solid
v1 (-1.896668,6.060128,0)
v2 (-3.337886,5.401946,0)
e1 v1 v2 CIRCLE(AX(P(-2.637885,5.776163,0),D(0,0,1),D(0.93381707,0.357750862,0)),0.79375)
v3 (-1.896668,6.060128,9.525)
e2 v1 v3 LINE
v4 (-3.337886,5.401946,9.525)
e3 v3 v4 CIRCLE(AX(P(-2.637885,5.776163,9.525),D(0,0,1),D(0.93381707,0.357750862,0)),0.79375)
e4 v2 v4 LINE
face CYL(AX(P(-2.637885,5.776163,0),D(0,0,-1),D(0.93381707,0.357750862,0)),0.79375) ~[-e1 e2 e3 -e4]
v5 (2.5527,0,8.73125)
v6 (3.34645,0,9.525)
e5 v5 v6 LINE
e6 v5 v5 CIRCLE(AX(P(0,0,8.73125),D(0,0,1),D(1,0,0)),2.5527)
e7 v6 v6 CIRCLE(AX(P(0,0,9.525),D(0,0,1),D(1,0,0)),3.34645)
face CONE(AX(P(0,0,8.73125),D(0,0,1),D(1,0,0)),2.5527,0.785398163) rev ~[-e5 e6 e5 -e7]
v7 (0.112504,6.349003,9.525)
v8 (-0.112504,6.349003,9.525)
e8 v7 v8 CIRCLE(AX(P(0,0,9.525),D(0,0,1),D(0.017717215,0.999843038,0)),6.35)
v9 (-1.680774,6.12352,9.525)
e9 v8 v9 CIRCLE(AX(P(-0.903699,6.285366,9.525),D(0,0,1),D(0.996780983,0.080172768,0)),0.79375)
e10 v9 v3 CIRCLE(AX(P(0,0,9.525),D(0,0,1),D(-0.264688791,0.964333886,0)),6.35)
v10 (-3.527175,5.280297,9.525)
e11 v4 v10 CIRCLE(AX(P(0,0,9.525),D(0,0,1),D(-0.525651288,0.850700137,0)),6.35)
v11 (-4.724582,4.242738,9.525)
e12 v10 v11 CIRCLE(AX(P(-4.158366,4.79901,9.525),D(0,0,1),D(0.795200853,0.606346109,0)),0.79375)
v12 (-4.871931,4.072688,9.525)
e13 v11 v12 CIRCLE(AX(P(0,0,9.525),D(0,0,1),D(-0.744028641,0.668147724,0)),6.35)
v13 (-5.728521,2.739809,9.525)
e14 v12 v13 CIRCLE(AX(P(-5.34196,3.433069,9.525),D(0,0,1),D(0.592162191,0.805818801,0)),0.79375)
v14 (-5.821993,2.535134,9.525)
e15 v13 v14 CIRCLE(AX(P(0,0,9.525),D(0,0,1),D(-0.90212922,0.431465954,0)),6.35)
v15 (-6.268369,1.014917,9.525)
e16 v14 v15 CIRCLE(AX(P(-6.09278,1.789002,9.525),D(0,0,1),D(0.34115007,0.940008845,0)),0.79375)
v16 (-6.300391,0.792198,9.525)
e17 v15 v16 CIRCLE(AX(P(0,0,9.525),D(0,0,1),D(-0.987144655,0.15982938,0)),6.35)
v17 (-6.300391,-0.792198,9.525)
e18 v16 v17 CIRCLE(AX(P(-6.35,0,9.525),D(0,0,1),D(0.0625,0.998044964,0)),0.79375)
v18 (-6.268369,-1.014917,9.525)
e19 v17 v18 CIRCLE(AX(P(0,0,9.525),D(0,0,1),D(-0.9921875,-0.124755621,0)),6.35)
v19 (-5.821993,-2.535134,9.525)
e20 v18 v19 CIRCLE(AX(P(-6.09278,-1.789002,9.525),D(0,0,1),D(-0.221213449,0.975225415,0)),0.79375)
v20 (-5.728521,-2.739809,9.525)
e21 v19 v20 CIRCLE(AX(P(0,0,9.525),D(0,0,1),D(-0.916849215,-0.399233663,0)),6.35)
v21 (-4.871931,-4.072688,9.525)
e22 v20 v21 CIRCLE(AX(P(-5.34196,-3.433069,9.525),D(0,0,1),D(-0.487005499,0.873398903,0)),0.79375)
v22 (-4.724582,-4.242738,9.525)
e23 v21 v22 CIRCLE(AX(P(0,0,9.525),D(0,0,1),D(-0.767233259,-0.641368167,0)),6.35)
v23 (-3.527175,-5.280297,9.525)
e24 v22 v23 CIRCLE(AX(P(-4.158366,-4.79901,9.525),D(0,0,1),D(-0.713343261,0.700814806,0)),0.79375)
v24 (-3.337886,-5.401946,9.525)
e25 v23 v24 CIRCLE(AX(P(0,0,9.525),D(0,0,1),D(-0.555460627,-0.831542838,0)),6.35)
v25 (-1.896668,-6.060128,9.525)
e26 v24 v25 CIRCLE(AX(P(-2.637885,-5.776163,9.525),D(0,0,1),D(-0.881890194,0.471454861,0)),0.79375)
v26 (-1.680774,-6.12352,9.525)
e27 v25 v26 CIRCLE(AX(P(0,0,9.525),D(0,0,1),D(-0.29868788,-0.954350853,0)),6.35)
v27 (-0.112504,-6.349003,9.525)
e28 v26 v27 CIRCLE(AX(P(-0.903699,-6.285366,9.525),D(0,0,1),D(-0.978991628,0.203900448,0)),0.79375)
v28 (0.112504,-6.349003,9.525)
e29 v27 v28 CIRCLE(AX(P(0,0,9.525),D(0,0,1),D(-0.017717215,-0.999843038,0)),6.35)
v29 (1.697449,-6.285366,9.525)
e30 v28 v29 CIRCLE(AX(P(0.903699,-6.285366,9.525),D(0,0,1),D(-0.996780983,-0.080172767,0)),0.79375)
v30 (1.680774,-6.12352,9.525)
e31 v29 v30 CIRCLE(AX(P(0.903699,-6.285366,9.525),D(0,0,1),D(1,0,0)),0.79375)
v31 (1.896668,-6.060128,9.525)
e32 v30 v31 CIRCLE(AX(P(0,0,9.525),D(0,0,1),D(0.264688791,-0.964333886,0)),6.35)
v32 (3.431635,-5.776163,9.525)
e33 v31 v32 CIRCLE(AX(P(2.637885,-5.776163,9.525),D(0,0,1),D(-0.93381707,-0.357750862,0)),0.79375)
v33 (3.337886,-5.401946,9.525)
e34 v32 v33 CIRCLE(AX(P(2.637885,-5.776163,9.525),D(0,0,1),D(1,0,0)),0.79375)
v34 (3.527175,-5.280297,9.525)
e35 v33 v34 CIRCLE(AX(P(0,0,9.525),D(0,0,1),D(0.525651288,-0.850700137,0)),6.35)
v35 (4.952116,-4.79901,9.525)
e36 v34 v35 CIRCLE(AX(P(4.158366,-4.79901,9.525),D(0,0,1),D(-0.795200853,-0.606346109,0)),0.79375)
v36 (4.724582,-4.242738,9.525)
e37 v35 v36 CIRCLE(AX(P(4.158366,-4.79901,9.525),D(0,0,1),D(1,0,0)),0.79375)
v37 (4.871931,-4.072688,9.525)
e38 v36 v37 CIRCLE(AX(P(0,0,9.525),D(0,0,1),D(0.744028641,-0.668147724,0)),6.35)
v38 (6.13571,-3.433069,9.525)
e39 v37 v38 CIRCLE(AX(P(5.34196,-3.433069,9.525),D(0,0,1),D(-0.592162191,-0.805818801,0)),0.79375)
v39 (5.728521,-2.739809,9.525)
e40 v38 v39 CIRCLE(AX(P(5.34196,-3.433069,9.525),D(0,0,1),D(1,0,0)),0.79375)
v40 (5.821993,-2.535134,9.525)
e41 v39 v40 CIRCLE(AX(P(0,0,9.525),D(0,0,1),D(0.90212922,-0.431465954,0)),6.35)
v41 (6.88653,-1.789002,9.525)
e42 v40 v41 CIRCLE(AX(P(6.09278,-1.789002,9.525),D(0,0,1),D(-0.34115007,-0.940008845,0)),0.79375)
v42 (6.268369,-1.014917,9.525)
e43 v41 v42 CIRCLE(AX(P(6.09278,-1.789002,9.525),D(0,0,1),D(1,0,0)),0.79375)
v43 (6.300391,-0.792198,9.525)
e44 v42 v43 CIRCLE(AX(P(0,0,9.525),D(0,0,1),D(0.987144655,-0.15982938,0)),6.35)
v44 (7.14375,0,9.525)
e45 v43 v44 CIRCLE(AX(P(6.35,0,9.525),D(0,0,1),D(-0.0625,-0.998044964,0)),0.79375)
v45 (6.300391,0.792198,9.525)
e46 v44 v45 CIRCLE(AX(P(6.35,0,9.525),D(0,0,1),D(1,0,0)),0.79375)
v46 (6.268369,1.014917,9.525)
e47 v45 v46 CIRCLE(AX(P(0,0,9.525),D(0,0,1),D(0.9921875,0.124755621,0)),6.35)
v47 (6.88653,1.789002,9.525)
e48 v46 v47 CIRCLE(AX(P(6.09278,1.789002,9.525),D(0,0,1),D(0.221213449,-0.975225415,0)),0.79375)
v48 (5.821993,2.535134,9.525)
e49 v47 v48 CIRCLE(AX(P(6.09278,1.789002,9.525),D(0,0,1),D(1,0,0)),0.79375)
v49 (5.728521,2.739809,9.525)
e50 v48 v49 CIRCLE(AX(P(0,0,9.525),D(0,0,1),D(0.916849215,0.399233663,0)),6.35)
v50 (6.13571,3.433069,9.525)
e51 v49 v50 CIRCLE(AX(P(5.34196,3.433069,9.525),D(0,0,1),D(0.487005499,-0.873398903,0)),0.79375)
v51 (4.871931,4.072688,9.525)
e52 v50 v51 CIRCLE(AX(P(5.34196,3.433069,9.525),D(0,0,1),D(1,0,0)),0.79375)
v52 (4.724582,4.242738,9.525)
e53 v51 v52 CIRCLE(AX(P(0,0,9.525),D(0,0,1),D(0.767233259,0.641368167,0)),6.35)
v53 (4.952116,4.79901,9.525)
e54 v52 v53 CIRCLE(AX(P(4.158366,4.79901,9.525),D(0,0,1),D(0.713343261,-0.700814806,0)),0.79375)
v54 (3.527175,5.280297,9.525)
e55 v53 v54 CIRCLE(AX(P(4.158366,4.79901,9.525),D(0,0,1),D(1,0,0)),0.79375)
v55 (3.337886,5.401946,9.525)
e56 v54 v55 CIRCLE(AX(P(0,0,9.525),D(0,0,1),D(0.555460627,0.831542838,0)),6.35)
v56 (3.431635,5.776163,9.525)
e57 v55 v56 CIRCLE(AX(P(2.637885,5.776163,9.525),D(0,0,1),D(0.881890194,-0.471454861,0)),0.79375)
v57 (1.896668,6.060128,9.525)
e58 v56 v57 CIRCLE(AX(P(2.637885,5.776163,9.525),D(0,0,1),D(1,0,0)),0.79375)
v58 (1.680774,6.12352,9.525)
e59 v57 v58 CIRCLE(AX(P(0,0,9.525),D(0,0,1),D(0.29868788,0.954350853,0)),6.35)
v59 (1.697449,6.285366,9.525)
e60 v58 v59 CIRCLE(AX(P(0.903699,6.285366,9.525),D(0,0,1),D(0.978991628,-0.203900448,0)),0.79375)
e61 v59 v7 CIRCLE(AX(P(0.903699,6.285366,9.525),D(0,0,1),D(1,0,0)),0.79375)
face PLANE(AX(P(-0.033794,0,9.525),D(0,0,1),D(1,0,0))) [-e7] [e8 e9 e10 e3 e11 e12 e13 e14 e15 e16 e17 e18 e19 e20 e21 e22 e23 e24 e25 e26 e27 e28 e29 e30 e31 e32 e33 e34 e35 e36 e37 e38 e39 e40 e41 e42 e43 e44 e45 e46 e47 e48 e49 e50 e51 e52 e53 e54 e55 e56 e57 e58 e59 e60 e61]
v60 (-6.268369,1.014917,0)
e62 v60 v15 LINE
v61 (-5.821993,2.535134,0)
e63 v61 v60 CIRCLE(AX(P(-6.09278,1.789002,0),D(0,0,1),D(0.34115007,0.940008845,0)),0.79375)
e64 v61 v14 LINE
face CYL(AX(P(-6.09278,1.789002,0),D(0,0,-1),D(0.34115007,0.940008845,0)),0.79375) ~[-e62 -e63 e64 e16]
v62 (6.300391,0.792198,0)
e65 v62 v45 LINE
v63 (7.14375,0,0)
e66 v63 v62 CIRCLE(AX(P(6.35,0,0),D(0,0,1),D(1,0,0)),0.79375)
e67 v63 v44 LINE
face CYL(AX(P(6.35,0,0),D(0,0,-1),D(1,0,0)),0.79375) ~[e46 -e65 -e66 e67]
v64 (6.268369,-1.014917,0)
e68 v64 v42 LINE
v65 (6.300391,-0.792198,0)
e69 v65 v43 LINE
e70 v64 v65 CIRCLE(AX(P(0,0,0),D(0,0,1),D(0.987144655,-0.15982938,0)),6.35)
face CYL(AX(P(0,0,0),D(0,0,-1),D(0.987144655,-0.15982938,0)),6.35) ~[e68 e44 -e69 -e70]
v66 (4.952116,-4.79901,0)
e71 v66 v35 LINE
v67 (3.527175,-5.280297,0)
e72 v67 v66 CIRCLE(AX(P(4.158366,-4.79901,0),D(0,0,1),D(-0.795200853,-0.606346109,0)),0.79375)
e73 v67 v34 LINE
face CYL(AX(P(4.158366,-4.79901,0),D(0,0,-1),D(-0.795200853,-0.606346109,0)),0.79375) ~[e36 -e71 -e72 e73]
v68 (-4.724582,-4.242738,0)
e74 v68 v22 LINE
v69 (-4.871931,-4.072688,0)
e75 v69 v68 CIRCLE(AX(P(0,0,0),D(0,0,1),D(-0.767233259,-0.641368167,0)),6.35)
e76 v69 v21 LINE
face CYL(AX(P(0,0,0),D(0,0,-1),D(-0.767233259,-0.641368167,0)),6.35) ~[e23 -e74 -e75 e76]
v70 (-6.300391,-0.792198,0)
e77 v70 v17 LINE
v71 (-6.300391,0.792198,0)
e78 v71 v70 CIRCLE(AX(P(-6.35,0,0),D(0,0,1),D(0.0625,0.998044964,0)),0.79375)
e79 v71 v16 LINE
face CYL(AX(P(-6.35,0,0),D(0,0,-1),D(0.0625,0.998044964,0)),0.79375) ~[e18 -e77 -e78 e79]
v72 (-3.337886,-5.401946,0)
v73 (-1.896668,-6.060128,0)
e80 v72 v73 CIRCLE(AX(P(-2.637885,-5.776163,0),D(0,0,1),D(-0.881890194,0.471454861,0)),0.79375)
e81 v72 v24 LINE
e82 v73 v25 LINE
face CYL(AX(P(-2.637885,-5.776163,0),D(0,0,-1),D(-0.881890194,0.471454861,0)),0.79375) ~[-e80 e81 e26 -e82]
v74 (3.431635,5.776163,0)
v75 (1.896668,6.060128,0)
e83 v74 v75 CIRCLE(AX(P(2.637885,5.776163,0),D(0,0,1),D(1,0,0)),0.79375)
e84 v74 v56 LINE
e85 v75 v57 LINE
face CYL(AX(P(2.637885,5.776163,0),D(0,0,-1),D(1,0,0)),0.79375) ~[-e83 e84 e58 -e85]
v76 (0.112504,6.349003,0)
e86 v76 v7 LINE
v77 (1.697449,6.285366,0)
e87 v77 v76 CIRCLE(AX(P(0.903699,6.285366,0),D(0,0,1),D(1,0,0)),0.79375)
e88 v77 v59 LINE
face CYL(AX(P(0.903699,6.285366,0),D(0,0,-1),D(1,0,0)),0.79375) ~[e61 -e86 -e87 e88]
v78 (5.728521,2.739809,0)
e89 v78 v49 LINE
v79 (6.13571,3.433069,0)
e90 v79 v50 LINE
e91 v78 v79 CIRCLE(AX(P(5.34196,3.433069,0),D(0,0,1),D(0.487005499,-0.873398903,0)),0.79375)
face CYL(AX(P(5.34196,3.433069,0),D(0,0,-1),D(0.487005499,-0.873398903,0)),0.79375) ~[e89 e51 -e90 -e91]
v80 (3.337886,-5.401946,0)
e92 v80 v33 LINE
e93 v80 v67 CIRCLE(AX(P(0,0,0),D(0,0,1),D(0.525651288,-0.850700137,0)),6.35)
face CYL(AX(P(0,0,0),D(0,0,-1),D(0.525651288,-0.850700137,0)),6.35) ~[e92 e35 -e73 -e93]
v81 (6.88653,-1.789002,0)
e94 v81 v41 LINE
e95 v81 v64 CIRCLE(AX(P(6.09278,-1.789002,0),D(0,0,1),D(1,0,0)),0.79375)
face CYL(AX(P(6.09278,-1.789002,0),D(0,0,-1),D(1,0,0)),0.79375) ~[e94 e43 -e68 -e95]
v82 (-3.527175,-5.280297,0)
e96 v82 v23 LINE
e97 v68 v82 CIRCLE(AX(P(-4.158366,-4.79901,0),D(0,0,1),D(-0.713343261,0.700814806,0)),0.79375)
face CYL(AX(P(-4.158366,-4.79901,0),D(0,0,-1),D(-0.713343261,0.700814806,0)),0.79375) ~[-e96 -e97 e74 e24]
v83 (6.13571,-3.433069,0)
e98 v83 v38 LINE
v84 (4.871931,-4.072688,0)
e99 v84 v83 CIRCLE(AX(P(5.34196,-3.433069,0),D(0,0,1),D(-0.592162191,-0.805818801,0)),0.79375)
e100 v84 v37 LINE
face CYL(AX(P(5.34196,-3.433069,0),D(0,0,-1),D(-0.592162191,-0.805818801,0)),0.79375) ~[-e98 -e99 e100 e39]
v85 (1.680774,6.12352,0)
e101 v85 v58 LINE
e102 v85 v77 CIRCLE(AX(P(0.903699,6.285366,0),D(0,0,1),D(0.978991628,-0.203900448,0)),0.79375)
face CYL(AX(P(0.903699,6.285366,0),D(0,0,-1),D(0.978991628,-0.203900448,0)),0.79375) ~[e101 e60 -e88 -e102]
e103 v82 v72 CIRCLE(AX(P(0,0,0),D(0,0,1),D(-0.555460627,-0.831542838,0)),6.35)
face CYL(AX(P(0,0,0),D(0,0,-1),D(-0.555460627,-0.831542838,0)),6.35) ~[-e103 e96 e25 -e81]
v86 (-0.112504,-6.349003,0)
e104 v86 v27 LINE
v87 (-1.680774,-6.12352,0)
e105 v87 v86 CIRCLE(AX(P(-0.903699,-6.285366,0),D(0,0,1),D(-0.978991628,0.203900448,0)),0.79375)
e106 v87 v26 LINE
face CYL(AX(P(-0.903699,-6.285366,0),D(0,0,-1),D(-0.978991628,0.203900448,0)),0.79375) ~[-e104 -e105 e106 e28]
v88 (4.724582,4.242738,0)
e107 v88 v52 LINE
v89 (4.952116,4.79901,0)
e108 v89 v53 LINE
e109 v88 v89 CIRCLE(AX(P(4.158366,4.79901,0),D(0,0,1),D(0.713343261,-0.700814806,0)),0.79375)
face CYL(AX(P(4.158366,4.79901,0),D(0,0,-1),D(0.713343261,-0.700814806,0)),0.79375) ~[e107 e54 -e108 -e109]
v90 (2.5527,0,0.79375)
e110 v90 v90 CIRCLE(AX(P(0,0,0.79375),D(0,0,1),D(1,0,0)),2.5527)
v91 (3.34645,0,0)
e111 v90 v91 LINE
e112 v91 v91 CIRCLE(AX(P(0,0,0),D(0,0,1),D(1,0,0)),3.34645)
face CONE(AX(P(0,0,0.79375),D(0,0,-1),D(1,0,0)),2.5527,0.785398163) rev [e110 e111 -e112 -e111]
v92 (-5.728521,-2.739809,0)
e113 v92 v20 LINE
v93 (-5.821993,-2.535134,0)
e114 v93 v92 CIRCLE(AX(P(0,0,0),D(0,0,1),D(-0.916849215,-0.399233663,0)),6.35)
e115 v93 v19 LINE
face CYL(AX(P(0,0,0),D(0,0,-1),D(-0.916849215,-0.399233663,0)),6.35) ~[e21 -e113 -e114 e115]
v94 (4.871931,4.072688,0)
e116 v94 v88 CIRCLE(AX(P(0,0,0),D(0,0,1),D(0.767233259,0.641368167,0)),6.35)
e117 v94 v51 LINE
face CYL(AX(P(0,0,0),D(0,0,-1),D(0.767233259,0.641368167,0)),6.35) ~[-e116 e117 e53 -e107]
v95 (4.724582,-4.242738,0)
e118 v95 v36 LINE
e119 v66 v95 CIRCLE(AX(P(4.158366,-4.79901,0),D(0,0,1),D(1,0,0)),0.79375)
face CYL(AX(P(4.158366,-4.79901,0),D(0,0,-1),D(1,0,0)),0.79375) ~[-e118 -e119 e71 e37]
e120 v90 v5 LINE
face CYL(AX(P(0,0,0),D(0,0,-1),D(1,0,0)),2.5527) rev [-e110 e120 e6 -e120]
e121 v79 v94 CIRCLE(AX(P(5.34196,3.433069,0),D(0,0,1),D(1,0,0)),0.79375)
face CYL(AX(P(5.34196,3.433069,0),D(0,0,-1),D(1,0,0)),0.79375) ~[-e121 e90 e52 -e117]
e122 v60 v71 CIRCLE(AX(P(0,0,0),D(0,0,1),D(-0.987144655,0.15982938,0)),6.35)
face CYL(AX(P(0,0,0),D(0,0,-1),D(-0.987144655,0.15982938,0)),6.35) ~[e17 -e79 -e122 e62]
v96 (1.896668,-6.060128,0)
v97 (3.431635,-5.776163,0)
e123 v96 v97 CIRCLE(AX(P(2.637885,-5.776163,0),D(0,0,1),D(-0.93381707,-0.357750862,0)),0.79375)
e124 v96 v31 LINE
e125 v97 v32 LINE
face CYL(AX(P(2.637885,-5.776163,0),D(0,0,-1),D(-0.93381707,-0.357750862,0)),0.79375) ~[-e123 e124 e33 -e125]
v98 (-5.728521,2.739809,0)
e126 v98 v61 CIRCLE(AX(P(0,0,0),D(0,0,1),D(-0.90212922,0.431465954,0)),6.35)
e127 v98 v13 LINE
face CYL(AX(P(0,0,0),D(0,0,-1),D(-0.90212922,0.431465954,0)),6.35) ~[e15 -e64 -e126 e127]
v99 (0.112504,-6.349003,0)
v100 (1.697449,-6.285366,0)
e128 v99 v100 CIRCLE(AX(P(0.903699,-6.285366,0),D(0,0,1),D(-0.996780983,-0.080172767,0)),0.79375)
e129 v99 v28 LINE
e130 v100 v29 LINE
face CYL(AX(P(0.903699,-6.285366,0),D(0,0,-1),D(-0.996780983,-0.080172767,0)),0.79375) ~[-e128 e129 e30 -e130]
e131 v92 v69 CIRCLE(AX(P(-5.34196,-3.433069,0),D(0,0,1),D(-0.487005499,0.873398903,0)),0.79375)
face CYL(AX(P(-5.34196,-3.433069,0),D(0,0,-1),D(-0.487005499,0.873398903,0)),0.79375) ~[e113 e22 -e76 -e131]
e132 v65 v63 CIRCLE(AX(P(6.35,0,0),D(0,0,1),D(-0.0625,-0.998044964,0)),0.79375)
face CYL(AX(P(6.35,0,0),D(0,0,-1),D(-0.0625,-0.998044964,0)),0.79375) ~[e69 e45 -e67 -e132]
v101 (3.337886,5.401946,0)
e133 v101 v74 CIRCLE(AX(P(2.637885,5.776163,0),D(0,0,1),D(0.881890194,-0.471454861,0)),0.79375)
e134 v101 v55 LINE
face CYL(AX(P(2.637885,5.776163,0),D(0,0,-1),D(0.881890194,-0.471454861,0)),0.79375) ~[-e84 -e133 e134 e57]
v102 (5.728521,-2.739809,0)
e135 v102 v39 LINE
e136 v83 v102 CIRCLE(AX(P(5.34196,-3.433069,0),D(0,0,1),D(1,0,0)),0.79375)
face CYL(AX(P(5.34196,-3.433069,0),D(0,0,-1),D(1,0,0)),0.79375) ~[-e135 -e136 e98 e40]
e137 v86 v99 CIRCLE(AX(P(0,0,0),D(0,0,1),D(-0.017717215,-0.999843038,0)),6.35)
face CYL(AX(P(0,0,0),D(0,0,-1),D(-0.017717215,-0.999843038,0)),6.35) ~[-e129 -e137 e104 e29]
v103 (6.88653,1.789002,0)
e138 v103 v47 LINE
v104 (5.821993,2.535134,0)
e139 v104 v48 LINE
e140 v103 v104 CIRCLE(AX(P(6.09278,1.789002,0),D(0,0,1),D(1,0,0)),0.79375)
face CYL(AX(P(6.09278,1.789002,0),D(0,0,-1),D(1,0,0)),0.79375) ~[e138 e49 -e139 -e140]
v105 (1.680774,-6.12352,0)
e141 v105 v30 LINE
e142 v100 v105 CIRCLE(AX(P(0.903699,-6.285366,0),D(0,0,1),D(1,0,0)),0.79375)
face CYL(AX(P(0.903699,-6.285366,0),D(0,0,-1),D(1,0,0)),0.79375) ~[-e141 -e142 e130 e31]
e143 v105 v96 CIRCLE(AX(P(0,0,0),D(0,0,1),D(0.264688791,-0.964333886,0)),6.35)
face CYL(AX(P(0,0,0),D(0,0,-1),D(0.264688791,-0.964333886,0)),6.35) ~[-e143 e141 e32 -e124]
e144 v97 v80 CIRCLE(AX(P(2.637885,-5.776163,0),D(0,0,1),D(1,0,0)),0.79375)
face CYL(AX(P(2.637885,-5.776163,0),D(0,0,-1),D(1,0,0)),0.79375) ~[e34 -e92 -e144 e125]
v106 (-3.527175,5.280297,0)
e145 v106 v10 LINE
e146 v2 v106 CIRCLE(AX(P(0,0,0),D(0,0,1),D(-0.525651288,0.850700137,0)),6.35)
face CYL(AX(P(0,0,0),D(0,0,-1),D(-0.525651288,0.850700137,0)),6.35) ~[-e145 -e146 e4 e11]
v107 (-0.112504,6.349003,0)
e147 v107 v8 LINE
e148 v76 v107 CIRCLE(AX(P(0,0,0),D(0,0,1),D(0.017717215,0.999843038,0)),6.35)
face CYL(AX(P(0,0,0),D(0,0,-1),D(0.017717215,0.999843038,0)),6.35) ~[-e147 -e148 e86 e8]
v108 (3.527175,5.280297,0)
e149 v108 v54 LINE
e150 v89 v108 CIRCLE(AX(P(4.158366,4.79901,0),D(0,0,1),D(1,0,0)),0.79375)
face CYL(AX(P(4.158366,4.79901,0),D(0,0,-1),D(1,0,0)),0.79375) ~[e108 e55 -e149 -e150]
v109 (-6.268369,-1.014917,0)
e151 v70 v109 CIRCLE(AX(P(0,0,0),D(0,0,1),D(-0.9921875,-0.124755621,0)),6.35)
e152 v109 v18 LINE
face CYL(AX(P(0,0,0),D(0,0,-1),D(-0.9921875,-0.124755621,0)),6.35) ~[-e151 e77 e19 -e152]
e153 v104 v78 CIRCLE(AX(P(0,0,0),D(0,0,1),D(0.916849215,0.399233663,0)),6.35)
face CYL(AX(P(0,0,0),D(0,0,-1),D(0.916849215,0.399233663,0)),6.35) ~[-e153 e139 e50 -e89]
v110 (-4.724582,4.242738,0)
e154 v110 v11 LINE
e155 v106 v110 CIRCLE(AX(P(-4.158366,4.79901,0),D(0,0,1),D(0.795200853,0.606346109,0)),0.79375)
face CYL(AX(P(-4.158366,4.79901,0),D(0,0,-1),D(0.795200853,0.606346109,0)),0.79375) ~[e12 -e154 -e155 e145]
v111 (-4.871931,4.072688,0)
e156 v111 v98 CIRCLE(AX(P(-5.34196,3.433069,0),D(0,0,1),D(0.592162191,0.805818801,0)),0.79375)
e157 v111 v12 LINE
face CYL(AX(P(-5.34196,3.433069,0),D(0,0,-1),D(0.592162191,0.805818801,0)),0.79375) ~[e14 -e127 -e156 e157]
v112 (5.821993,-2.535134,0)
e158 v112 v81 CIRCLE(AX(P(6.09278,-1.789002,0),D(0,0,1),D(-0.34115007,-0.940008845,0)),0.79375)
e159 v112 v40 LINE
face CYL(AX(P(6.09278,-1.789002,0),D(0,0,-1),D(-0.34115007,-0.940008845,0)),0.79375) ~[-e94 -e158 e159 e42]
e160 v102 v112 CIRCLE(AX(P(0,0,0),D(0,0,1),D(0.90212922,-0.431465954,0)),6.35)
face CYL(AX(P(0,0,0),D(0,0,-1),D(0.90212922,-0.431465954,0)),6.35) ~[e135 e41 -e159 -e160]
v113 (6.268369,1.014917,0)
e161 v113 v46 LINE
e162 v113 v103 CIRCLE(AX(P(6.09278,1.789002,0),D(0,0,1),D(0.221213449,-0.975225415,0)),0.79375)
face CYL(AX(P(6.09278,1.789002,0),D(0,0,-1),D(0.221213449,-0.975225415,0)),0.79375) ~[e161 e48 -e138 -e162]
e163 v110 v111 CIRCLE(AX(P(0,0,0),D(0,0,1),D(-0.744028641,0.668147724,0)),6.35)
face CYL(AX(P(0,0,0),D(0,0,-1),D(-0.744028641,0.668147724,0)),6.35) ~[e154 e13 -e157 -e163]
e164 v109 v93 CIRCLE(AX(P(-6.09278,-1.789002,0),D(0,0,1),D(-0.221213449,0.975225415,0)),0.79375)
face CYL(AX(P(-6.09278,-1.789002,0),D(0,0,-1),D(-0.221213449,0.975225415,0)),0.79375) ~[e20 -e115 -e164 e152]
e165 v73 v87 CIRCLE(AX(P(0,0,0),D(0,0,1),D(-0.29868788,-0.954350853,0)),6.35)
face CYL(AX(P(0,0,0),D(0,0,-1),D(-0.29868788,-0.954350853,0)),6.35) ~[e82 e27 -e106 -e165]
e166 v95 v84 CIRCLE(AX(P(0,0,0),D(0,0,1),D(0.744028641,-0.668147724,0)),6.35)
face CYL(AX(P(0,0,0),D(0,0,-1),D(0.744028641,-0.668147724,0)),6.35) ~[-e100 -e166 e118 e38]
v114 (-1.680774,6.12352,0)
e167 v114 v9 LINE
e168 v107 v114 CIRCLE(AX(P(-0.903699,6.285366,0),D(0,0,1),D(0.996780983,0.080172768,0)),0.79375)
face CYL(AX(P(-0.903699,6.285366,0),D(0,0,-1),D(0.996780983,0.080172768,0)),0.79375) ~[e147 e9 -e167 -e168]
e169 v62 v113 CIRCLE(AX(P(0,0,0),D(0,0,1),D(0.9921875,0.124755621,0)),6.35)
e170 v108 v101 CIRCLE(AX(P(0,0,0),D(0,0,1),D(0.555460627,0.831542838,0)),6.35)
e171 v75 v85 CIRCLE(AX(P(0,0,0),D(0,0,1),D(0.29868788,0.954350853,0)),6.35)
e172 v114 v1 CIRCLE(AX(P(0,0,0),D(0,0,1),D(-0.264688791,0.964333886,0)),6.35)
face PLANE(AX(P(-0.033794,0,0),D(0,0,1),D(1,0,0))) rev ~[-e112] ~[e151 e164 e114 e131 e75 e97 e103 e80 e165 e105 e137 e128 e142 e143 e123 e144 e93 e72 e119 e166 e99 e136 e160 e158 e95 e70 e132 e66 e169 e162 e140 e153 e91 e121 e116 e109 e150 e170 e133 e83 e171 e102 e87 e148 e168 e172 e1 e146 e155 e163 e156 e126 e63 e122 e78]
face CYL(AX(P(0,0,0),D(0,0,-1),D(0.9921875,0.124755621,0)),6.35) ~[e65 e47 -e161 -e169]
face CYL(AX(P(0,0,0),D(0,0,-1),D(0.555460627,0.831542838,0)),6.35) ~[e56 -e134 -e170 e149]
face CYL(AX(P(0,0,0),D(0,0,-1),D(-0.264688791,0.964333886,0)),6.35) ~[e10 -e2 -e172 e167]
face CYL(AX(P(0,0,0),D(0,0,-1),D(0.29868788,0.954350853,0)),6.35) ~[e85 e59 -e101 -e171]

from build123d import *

# Parameters (mm, degrees)
F0_R     = 2.5527
F1_DEPTH = 9.525
F2_SIZE  = 0.79375


with BuildPart() as f1:
    # F0 (on Top) → F1 (new body)
    with BuildSketch(Plane.XY):
        with BuildLine():
            ThreePointArc((6.300390625, -0.7921981901), (5.55625, 0), (6.300390625, 0.7921981901))
            ThreePointArc((6.300390625, 0.7921981901), (6.2853661559, 0.903699223), (6.2683685573, 1.0149165628))
            ThreePointArc((6.2683685573, 1.0149165628), (5.3311828346, 1.565376519), (5.8219925141, 2.535133757))
            ThreePointArc((5.8219925141, 2.535133757), (5.7761631705, 2.6378853326), (5.7285205486, 2.7398088117))
            ThreePointArc((5.7285205486, 2.7398088117), (4.6742149418, 3.003935542), (4.8719311944, 4.0726878639))
            ThreePointArc((4.8719311944, 4.0726878639), (4.7990097971, 4.1583656606), (4.7245818738, 4.2427380449))
            ThreePointArc((4.7245818738, 4.2427380449), (3.638569953, 4.1991335725), (3.5271749839, 5.2802970213))
            ThreePointArc((3.5271749839, 5.2802970213), (3.4330691908, 5.3419599335), (3.3378856738, 5.4019458743))
            ThreePointArc((3.3378856738, 5.4019458743), (2.308149666, 5.0541427742), (1.896668033, 6.0601279172))
            ThreePointArc((1.896668033, 6.0601279172), (1.7890017359, 6.0927803825), (1.6807738276, 6.1235201755))
            ThreePointArc((1.6807738276, 6.1235201755), (0.7907368202, 5.4996953865), (0.1125043181, 6.3490032902))
            ThreePointArc((0.1125043181, 6.3490032902), (0, 6.35), (-0.1125043181, 6.3490032902))
            ThreePointArc((-0.1125043181, 6.3490032902), (-0.110588254, 6.3172103601), (-0.109949223, 6.2853661559))
            ThreePointArc((-0.109949223, 6.2853661559), (-0.8223478399, 5.4957960103), (-1.6807738276, 6.1235201755))
            ThreePointArc((-1.6807738276, 6.1235201755), (-1.7890017359, 6.0927803825), (-1.896668033, 6.0601279172))
            ThreePointArc((-1.896668033, 6.0601279172), (-1.8573789924, 5.9205547059), (-1.8441353326, 5.7761631705))
            ThreePointArc((-1.8441353326, 5.7761631705), (-2.4449944416, 5.0062072194), (-3.3378856738, 5.4019458743))
            ThreePointArc((-3.3378856738, 5.4019458743), (-3.4330691908, 5.3419599335), (-3.5271749839, 5.2802970213))
            ThreePointArc((-3.5271749839, 5.2802970213), (-3.4063528076, 5.0530092685), (-3.3646156606, 4.7990097971))
            ThreePointArc((-3.3646156606, 4.7990097971), (-3.857861964, 4.0643421234), (-4.7245818738, 4.2427380449))
            ThreePointArc((-4.7245818738, 4.2427380449), (-4.7990097971, 4.1583656606), (-4.8719311944, 4.0726878639))
            ThreePointArc((-4.8719311944, 4.0726878639), (-4.6337493807, 3.7915059013), (-4.5482099335, 3.4330691908))
            ThreePointArc((-4.5482099335, 3.4330691908), (-4.9399608201, 2.7486455097), (-5.7285205486, 2.7398088117))
            ThreePointArc((-5.7285205486, 2.7398088117), (-5.7761631705, 2.6378853326), (-5.8219925141, 2.535133757))
            ThreePointArc((-5.8219925141, 2.535133757), (-5.4427892544, 2.2445789478), (-5.2990303825, 1.7890017359))
            ThreePointArc((-5.2990303825, 1.7890017359), (-5.5974693949, 1.1687549398), (-6.2683685573, 1.0149165628))
            ThreePointArc((-6.2683685573, 1.0149165628), (-6.2853661559, 0.903699223), (-6.300390625, 0.7921981901))
            ThreePointArc((-6.300390625, 0.7921981901), (-5.7714602417, 0.543443475), (-5.55625, 0))
            ThreePointArc((-5.55625, 0), (-5.7714602417, -0.543443475), (-6.300390625, -0.7921981901))
            ThreePointArc((-6.300390625, -0.7921981901), (-6.2853661559, -0.903699223), (-6.2683685573, -1.0149165628))
            ThreePointArc((-6.2683685573, -1.0149165628), (-5.5974693949, -1.1687549398), (-5.2990303825, -1.7890017359))
            ThreePointArc((-5.2990303825, -1.7890017359), (-5.4427892544, -2.2445789478), (-5.8219925141, -2.535133757))
            ThreePointArc((-5.8219925141, -2.535133757), (-5.7761631705, -2.6378853326), (-5.7285205486, -2.7398088117))
            ThreePointArc((-5.7285205486, -2.7398088117), (-4.9399608201, -2.7486455097), (-4.5482099335, -3.4330691908))
            ThreePointArc((-4.5482099335, -3.4330691908), (-4.6337493807, -3.7915059013), (-4.8719311944, -4.0726878639))
            ThreePointArc((-4.8719311944, -4.0726878639), (-4.7990097971, -4.1583656606), (-4.7245818738, -4.2427380449))
            ThreePointArc((-4.7245818738, -4.2427380449), (-3.857861964, -4.0643421234), (-3.3646156606, -4.7990097971))
            ThreePointArc((-3.3646156606, -4.7990097971), (-3.4063528076, -5.0530092685), (-3.5271749839, -5.2802970213))
            ThreePointArc((-3.5271749839, -5.2802970213), (-3.4330691908, -5.3419599335), (-3.3378856738, -5.4019458743))
            ThreePointArc((-3.3378856738, -5.4019458743), (-2.4449944416, -5.0062072194), (-1.8441353326, -5.7761631705))
            ThreePointArc((-1.8441353326, -5.7761631705), (-1.8573789924, -5.9205547059), (-1.896668033, -6.0601279172))
            ThreePointArc((-1.896668033, -6.0601279172), (-1.7890017359, -6.0927803825), (-1.6807738276, -6.1235201755))
            ThreePointArc((-1.6807738276, -6.1235201755), (-0.8223478399, -5.4957960103), (-0.109949223, -6.2853661559))
            ThreePointArc((-0.109949223, -6.2853661559), (-0.110588254, -6.3172103601), (-0.1125043181, -6.3490032902))
            ThreePointArc((-0.1125043181, -6.3490032902), (0, -6.35), (0.1125043181, -6.3490032902))
            ThreePointArc((0.1125043181, -6.3490032902), (0.7907368202, -5.4996953865), (1.6807738276, -6.1235201755))
            ThreePointArc((1.6807738276, -6.1235201755), (1.7890017359, -6.0927803825), (1.896668033, -6.0601279172))
            ThreePointArc((1.896668033, -6.0601279172), (2.308149666, -5.0541427742), (3.3378856738, -5.4019458743))
            ThreePointArc((3.3378856738, -5.4019458743), (3.4330691908, -5.3419599335), (3.5271749839, -5.2802970213))
            ThreePointArc((3.5271749839, -5.2802970213), (3.638569953, -4.1991335725), (4.7245818738, -4.2427380449))
            ThreePointArc((4.7245818738, -4.2427380449), (4.7990097971, -4.1583656606), (4.8719311944, -4.0726878639))
            ThreePointArc((4.8719311944, -4.0726878639), (4.6742149418, -3.003935542), (5.7285205486, -2.7398088117))
            ThreePointArc((5.7285205486, -2.7398088117), (5.7761631705, -2.6378853326), (5.8219925141, -2.535133757))
            ThreePointArc((5.8219925141, -2.535133757), (5.3311828346, -1.565376519), (6.2683685573, -1.0149165628))
            ThreePointArc((6.2683685573, -1.0149165628), (6.2853661559, -0.903699223), (6.300390625, -0.7921981901))
        make_face()
        Circle(F0_R, mode=Mode.SUBTRACT)
        with BuildLine():
            ThreePointArc((-3.3646156606, 4.7990097971), (-3.4063528076, 5.0530092685), (-3.5271749839, 5.2802970213))
            ThreePointArc((-3.5271749839, 5.2802970213), (-4.1583656606, 4.7990097971), (-4.7245818738, 4.2427380449))
            ThreePointArc((-4.7245818738, 4.2427380449), (-3.857861964, 4.0643421234), (-3.3646156606, 4.7990097971))
        make_face()
        with BuildLine():
            ThreePointArc((-1.8441353326, 5.7761631705), (-1.8573789924, 5.9205547059), (-1.896668033, 6.0601279172))
            ThreePointArc((-1.896668033, 6.0601279172), (-2.6378853326, 5.7761631705), (-3.3378856738, 5.4019458743))
            ThreePointArc((-3.3378856738, 5.4019458743), (-2.4449944416, 5.0062072194), (-1.8441353326, 5.7761631705))
        make_face()
        with BuildLine():
            ThreePointArc((-0.109949223, 6.2853661559), (-0.110588254, 6.3172103601), (-0.1125043181, 6.3490032902))
            ThreePointArc((-0.1125043181, 6.3490032902), (-0.903699223, 6.2853661559), (-1.6807738276, 6.1235201755))
            ThreePointArc((-1.6807738276, 6.1235201755), (-0.8223478399, 5.4957960103), (-0.109949223, 6.2853661559))
        make_face()
        with BuildLine():
            ThreePointArc((0.1125043181, 6.3490032902), (0.7907368202, 5.4996953865), (1.6807738276, 6.1235201755))
            ThreePointArc((1.6807738276, 6.1235201755), (0.903699223, 6.2853661559), (0.1125043181, 6.3490032902))
        make_face()
        with BuildLine():
            ThreePointArc((1.896668033, 6.0601279172), (2.308149666, 5.0541427742), (3.3378856738, 5.4019458743))
            ThreePointArc((3.3378856738, 5.4019458743), (2.6378853326, 5.7761631705), (1.896668033, 6.0601279172))
        make_face()
        with BuildLine():
            ThreePointArc((3.5271749839, 5.2802970213), (3.638569953, 4.1991335725), (4.7245818738, 4.2427380449))
            ThreePointArc((4.7245818738, 4.2427380449), (4.1583656606, 4.7990097971), (3.5271749839, 5.2802970213))
        make_face()
        with BuildLine():
            ThreePointArc((4.8719311944, 4.0726878639), (4.6742149418, 3.003935542), (5.7285205486, 2.7398088117))
            ThreePointArc((5.7285205486, 2.7398088117), (5.3419599335, 3.4330691908), (4.8719311944, 4.0726878639))
        make_face()
        with BuildLine():
            ThreePointArc((5.8219925141, 2.535133757), (5.3311828346, 1.565376519), (6.2683685573, 1.0149165628))
            ThreePointArc((6.2683685573, 1.0149165628), (6.0927803825, 1.7890017359), (5.8219925141, 2.535133757))
        make_face()
        with BuildLine():
            ThreePointArc((6.300390625, -0.7921981901), (6.3375855209, -0.396875), (6.35, 0))
            ThreePointArc((6.35, 0), (6.3375855209, 0.396875), (6.300390625, 0.7921981901))
            ThreePointArc((6.300390625, 0.7921981901), (5.55625, 0), (6.300390625, -0.7921981901))
        make_face()
        with BuildLine():
            ThreePointArc((5.8219925141, -2.535133757), (6.0927803825, -1.7890017359), (6.2683685573, -1.0149165628))
            ThreePointArc((6.2683685573, -1.0149165628), (5.3311828346, -1.565376519), (5.8219925141, -2.535133757))
        make_face()
        with BuildLine():
            ThreePointArc((4.8719311944, -4.0726878639), (5.3419599335, -3.4330691908), (5.7285205486, -2.7398088117))
            ThreePointArc((5.7285205486, -2.7398088117), (4.6742149418, -3.003935542), (4.8719311944, -4.0726878639))
        make_face()
        with BuildLine():
            ThreePointArc((3.5271749839, -5.2802970213), (4.1583656606, -4.7990097971), (4.7245818738, -4.2427380449))
            ThreePointArc((4.7245818738, -4.2427380449), (3.638569953, -4.1991335725), (3.5271749839, -5.2802970213))
        make_face()
        with BuildLine():
            ThreePointArc((1.896668033, -6.0601279172), (2.6378853326, -5.7761631705), (3.3378856738, -5.4019458743))
            ThreePointArc((3.3378856738, -5.4019458743), (2.308149666, -5.0541427742), (1.896668033, -6.0601279172))
        make_face()
        with BuildLine():
            ThreePointArc((0.1125043181, -6.3490032902), (0.903699223, -6.2853661559), (1.6807738276, -6.1235201755))
            ThreePointArc((1.6807738276, -6.1235201755), (0.7907368202, -5.4996953865), (0.1125043181, -6.3490032902))
        make_face()
        with BuildLine():
            ThreePointArc((-1.6807738276, -6.1235201755), (-0.903699223, -6.2853661559), (-0.1125043181, -6.3490032902))
            ThreePointArc((-0.1125043181, -6.3490032902), (-0.110588254, -6.3172103601), (-0.109949223, -6.2853661559))
            ThreePointArc((-0.109949223, -6.2853661559), (-0.8223478399, -5.4957960103), (-1.6807738276, -6.1235201755))
        make_face()
        with BuildLine():
            ThreePointArc((-3.3378856738, -5.4019458743), (-2.6378853326, -5.7761631705), (-1.896668033, -6.0601279172))
            ThreePointArc((-1.896668033, -6.0601279172), (-1.8573789924, -5.9205547059), (-1.8441353326, -5.7761631705))
            ThreePointArc((-1.8441353326, -5.7761631705), (-2.4449944416, -5.0062072194), (-3.3378856738, -5.4019458743))
        make_face()
        with BuildLine():
            ThreePointArc((-4.7245818738, -4.2427380449), (-4.1583656606, -4.7990097971), (-3.5271749839, -5.2802970213))
            ThreePointArc((-3.5271749839, -5.2802970213), (-3.4063528076, -5.0530092685), (-3.3646156606, -4.7990097971))
            ThreePointArc((-3.3646156606, -4.7990097971), (-3.857861964, -4.0643421234), (-4.7245818738, -4.2427380449))
        make_face()
        with BuildLine():
            ThreePointArc((-5.7285205486, -2.7398088117), (-5.3419599335, -3.4330691908), (-4.8719311944, -4.0726878639))
            ThreePointArc((-4.8719311944, -4.0726878639), (-4.6337493807, -3.7915059013), (-4.5482099335, -3.4330691908))
            ThreePointArc((-4.5482099335, -3.4330691908), (-4.9399608201, -2.7486455097), (-5.7285205486, -2.7398088117))
        make_face()
        with BuildLine():
            ThreePointArc((-6.2683685573, -1.0149165628), (-6.0927803825, -1.7890017359), (-5.8219925141, -2.535133757))
            ThreePointArc((-5.8219925141, -2.535133757), (-5.4427892544, -2.2445789478), (-5.2990303825, -1.7890017359))
            ThreePointArc((-5.2990303825, -1.7890017359), (-5.5974693949, -1.1687549398), (-6.2683685573, -1.0149165628))
        make_face()
        with BuildLine():
            ThreePointArc((-5.55625, 0), (-5.7714602417, 0.543443475), (-6.300390625, 0.7921981901))
            ThreePointArc((-6.300390625, 0.7921981901), (-6.35, 0), (-6.300390625, -0.7921981901))
            ThreePointArc((-6.300390625, -0.7921981901), (-5.7714602417, -0.543443475), (-5.55625, 0))
        make_face()
        with BuildLine():
            ThreePointArc((-5.2990303825, 1.7890017359), (-5.4427892544, 2.2445789478), (-5.8219925141, 2.535133757))
            ThreePointArc((-5.8219925141, 2.535133757), (-6.0927803825, 1.7890017359), (-6.2683685573, 1.0149165628))
            ThreePointArc((-6.2683685573, 1.0149165628), (-5.5974693949, 1.1687549398), (-5.2990303825, 1.7890017359))
        make_face()
        with BuildLine():
            ThreePointArc((-4.5482099335, 3.4330691908), (-4.6337493807, 3.7915059013), (-4.8719311944, 4.0726878639))
            ThreePointArc((-4.8719311944, 4.0726878639), (-5.3419599335, 3.4330691908), (-5.7285205486, 2.7398088117))
            ThreePointArc((-5.7285205486, 2.7398088117), (-4.9399608201, 2.7486455097), (-4.5482099335, 3.4330691908))
        make_face()
        with BuildLine():
            ThreePointArc((-1.6807738276, 6.1235201755), (-0.903699223, 6.2853661559), (-0.1125043181, 6.3490032902))
            ThreePointArc((-0.1125043181, 6.3490032902), (-1.0166616259, 7.0710369254), (-1.6807738276, 6.1235201755))
        make_face()
        with BuildLine():
            ThreePointArc((0.1125043181, 6.3490032902), (0.903699223, 6.2853661559), (1.6807738276, 6.1235201755))
            ThreePointArc((1.6807738276, 6.1235201755), (1.6932693687, 6.2040147728), (1.697449223, 6.2853661559))
            ThreePointArc((1.697449223, 6.2853661559), (0.9355434272, 7.078477125), (0.1125043181, 6.3490032902))
        make_face()
        with BuildLine():
            ThreePointArc((1.896668033, 6.0601279172), (2.6378853326, 5.7761631705), (3.3378856738, 5.4019458743))
            ThreePointArc((3.3378856738, 5.4019458743), (3.4078412837, 5.5832722795), (3.4316353326, 5.7761631705))
            ThreePointArc((3.4316353326, 5.7761631705), (2.782276868, 6.5566695106), (1.896668033, 6.0601279172))
        make_face()
        with BuildLine():
            ThreePointArc((3.5271749839, 5.2802970213), (4.1583656606, 4.7990097971), (4.7245818738, 4.2427380449))
            ThreePointArc((4.7245818738, 4.2427380449), (4.8930333343, 4.4985061006), (4.9521156606, 4.7990097971))
            ThreePointArc((4.9521156606, 4.7990097971), (4.4123651319, 5.5510226501), (3.5271749839, 5.2802970213))
        make_face()
        with BuildLine():
            ThreePointArc((4.8719311944, 4.0726878639), (5.3419599335, 3.4330691908), (5.7285205486, 2.7398088117))
            ThreePointArc((5.7285205486, 2.7398088117), (6.0263836147, 3.0310700775), (6.1357099335, 3.4330691908))
            ThreePointArc((6.1357099335, 3.4330691908), (5.700396644, 4.1412797436), (4.8719311944, 4.0726878639))
        make_face()
        with BuildLine():
            ThreePointArc((5.8219925141, 2.535133757), (6.0927803825, 1.7890017359), (6.2683685573, 1.0149165628))
            ThreePointArc((6.2683685573, 1.0149165628), (6.7130271786, 1.2936907484), (6.8865303825, 1.7890017359))
            ThreePointArc((6.8865303825, 1.7890017359), (6.5483575943, 2.438992864), (5.8219925141, 2.535133757))
        make_face()
        with BuildLine():
            ThreePointArc((6.300390625, 0.7921981901), (6.3375855209, 0.396875), (6.35, 0))
            ThreePointArc((6.35, 0), (6.3375855209, -0.396875), (6.300390625, -0.7921981901))
            ThreePointArc((6.300390625, -0.7921981901), (6.893443475, -0.5785397583), (7.14375, 0))
            ThreePointArc((7.14375, 0), (6.893443475, 0.5785397583), (6.300390625, 0.7921981901))
        make_face()
        with BuildLine():
            ThreePointArc((6.8865303825, -1.7890017359), (6.7130271786, -1.2936907484), (6.2683685573, -1.0149165628))
            ThreePointArc((6.2683685573, -1.0149165628), (6.0927803825, -1.7890017359), (5.8219925141, -2.535133757))
            ThreePointArc((5.8219925141, -2.535133757), (6.5483575943, -2.438992864), (6.8865303825, -1.7890017359))
        make_face()
        with BuildLine():
            ThreePointArc((6.1357099335, -3.4330691908), (6.0263836147, -3.0310700775), (5.7285205486, -2.7398088117))
            ThreePointArc((5.7285205486, -2.7398088117), (5.3419599335, -3.4330691908), (4.8719311944, -4.0726878639))
            ThreePointArc((4.8719311944, -4.0726878639), (5.700396644, -4.1412797436), (6.1357099335, -3.4330691908))
        make_face()
        with BuildLine():
            ThreePointArc((4.9521156606, -4.7990097971), (4.8930333343, -4.4985061006), (4.7245818738, -4.2427380449))
            ThreePointArc((4.7245818738, -4.2427380449), (4.1583656606, -4.7990097971), (3.5271749839, -5.2802970213))
            ThreePointArc((3.5271749839, -5.2802970213), (4.4123651319, -5.5510226501), (4.9521156606, -4.7990097971))
        make_face()
        with BuildLine():
            ThreePointArc((3.4316353326, -5.7761631705), (3.4078412837, -5.5832722795), (3.3378856738, -5.4019458743))
            ThreePointArc((3.3378856738, -5.4019458743), (2.6378853326, -5.7761631705), (1.896668033, -6.0601279172))
            ThreePointArc((1.896668033, -6.0601279172), (2.782276868, -6.5566695106), (3.4316353326, -5.7761631705))
        make_face()
        with BuildLine():
            ThreePointArc((1.697449223, -6.2853661559), (1.6932693687, -6.2040147728), (1.6807738276, -6.1235201755))
            ThreePointArc((1.6807738276, -6.1235201755), (0.903699223, -6.2853661559), (0.1125043181, -6.3490032902))
            ThreePointArc((0.1125043181, -6.3490032902), (0.9355434272, -7.078477125), (1.697449223, -6.2853661559))
        make_face()
        with BuildLine():
            ThreePointArc((-1.6807738276, -6.1235201755), (-1.0166616259, -7.0710369254), (-0.1125043181, -6.3490032902))
            ThreePointArc((-0.1125043181, -6.3490032902), (-0.903699223, -6.2853661559), (-1.6807738276, -6.1235201755))
        make_face()
        with BuildLine():
            ThreePointArc((-3.3378856738, -5.4019458743), (-2.9676209991, -6.4981835668), (-1.896668033, -6.0601279172))
            ThreePointArc((-1.896668033, -6.0601279172), (-2.6378853326, -5.7761631705), (-3.3378856738, -5.4019458743))
        make_face()
        with BuildLine():
            ThreePointArc((-4.7245818738, -4.2427380449), (-4.6781613681, -5.3988860218), (-3.5271749839, -5.2802970213))
            ThreePointArc((-3.5271749839, -5.2802970213), (-4.1583656606, -4.7990097971), (-4.7245818738, -4.2427380449))
        make_face()
        with BuildLine():
            ThreePointArc((-5.7285205486, -2.7398088117), (-6.0097049252, -3.8622028397), (-4.8719311944, -4.0726878639))
            ThreePointArc((-4.8719311944, -4.0726878639), (-5.3419599335, -3.4330691908), (-5.7285205486, -2.7398088117))
        make_face()
        with BuildLine():
            ThreePointArc((-6.2683685573, -1.0149165628), (-6.8543779303, -2.0126269529), (-5.8219925141, -2.535133757))
            ThreePointArc((-5.8219925141, -2.535133757), (-6.0927803825, -1.7890017359), (-6.2683685573, -1.0149165628))
        make_face()
        with BuildLine():
            ThreePointArc((-6.300390625, -0.7921981901), (-6.35, 0), (-6.300390625, 0.7921981901))
            ThreePointArc((-6.300390625, 0.7921981901), (-7.14375, 0), (-6.300390625, -0.7921981901))
        make_face()
        with BuildLine():
            ThreePointArc((-6.2683685573, 1.0149165628), (-6.0927803825, 1.7890017359), (-5.8219925141, 2.535133757))
            ThreePointArc((-5.8219925141, 2.535133757), (-6.8543779303, 2.0126269529), (-6.2683685573, 1.0149165628))
        make_face()
        with BuildLine():
            ThreePointArc((-5.7285205486, 2.7398088117), (-5.3419599335, 3.4330691908), (-4.8719311944, 4.0726878639))
            ThreePointArc((-4.8719311944, 4.0726878639), (-6.0097049252, 3.8622028397), (-5.7285205486, 2.7398088117))
        make_face()
        with BuildLine():
            ThreePointArc((-4.7245818738, 4.2427380449), (-4.1583656606, 4.7990097971), (-3.5271749839, 5.2802970213))
            ThreePointArc((-3.5271749839, 5.2802970213), (-4.6781613681, 5.3988860218), (-4.7245818738, 4.2427380449))
        make_face()
        with BuildLine():
            ThreePointArc((-3.3378856738, 5.4019458743), (-2.6378853326, 5.7761631705), (-1.896668033, 6.0601279172))
            ThreePointArc((-1.896668033, 6.0601279172), (-2.9676209991, 6.4981835668), (-3.3378856738, 5.4019458743))
        make_face()
    extrude(amount=F1_DEPTH)

    # F2
    f2_edges = [f1.edges().sort_by_distance(p)[0] for p in [
        (2.5527, 0, 4.7625),
        (-2.5527, 0, 0),
        (-2.5527, 0, 9.525),
    ]]
    chamfer(f2_edges, length=F2_SIZE)


solid = f1.part
